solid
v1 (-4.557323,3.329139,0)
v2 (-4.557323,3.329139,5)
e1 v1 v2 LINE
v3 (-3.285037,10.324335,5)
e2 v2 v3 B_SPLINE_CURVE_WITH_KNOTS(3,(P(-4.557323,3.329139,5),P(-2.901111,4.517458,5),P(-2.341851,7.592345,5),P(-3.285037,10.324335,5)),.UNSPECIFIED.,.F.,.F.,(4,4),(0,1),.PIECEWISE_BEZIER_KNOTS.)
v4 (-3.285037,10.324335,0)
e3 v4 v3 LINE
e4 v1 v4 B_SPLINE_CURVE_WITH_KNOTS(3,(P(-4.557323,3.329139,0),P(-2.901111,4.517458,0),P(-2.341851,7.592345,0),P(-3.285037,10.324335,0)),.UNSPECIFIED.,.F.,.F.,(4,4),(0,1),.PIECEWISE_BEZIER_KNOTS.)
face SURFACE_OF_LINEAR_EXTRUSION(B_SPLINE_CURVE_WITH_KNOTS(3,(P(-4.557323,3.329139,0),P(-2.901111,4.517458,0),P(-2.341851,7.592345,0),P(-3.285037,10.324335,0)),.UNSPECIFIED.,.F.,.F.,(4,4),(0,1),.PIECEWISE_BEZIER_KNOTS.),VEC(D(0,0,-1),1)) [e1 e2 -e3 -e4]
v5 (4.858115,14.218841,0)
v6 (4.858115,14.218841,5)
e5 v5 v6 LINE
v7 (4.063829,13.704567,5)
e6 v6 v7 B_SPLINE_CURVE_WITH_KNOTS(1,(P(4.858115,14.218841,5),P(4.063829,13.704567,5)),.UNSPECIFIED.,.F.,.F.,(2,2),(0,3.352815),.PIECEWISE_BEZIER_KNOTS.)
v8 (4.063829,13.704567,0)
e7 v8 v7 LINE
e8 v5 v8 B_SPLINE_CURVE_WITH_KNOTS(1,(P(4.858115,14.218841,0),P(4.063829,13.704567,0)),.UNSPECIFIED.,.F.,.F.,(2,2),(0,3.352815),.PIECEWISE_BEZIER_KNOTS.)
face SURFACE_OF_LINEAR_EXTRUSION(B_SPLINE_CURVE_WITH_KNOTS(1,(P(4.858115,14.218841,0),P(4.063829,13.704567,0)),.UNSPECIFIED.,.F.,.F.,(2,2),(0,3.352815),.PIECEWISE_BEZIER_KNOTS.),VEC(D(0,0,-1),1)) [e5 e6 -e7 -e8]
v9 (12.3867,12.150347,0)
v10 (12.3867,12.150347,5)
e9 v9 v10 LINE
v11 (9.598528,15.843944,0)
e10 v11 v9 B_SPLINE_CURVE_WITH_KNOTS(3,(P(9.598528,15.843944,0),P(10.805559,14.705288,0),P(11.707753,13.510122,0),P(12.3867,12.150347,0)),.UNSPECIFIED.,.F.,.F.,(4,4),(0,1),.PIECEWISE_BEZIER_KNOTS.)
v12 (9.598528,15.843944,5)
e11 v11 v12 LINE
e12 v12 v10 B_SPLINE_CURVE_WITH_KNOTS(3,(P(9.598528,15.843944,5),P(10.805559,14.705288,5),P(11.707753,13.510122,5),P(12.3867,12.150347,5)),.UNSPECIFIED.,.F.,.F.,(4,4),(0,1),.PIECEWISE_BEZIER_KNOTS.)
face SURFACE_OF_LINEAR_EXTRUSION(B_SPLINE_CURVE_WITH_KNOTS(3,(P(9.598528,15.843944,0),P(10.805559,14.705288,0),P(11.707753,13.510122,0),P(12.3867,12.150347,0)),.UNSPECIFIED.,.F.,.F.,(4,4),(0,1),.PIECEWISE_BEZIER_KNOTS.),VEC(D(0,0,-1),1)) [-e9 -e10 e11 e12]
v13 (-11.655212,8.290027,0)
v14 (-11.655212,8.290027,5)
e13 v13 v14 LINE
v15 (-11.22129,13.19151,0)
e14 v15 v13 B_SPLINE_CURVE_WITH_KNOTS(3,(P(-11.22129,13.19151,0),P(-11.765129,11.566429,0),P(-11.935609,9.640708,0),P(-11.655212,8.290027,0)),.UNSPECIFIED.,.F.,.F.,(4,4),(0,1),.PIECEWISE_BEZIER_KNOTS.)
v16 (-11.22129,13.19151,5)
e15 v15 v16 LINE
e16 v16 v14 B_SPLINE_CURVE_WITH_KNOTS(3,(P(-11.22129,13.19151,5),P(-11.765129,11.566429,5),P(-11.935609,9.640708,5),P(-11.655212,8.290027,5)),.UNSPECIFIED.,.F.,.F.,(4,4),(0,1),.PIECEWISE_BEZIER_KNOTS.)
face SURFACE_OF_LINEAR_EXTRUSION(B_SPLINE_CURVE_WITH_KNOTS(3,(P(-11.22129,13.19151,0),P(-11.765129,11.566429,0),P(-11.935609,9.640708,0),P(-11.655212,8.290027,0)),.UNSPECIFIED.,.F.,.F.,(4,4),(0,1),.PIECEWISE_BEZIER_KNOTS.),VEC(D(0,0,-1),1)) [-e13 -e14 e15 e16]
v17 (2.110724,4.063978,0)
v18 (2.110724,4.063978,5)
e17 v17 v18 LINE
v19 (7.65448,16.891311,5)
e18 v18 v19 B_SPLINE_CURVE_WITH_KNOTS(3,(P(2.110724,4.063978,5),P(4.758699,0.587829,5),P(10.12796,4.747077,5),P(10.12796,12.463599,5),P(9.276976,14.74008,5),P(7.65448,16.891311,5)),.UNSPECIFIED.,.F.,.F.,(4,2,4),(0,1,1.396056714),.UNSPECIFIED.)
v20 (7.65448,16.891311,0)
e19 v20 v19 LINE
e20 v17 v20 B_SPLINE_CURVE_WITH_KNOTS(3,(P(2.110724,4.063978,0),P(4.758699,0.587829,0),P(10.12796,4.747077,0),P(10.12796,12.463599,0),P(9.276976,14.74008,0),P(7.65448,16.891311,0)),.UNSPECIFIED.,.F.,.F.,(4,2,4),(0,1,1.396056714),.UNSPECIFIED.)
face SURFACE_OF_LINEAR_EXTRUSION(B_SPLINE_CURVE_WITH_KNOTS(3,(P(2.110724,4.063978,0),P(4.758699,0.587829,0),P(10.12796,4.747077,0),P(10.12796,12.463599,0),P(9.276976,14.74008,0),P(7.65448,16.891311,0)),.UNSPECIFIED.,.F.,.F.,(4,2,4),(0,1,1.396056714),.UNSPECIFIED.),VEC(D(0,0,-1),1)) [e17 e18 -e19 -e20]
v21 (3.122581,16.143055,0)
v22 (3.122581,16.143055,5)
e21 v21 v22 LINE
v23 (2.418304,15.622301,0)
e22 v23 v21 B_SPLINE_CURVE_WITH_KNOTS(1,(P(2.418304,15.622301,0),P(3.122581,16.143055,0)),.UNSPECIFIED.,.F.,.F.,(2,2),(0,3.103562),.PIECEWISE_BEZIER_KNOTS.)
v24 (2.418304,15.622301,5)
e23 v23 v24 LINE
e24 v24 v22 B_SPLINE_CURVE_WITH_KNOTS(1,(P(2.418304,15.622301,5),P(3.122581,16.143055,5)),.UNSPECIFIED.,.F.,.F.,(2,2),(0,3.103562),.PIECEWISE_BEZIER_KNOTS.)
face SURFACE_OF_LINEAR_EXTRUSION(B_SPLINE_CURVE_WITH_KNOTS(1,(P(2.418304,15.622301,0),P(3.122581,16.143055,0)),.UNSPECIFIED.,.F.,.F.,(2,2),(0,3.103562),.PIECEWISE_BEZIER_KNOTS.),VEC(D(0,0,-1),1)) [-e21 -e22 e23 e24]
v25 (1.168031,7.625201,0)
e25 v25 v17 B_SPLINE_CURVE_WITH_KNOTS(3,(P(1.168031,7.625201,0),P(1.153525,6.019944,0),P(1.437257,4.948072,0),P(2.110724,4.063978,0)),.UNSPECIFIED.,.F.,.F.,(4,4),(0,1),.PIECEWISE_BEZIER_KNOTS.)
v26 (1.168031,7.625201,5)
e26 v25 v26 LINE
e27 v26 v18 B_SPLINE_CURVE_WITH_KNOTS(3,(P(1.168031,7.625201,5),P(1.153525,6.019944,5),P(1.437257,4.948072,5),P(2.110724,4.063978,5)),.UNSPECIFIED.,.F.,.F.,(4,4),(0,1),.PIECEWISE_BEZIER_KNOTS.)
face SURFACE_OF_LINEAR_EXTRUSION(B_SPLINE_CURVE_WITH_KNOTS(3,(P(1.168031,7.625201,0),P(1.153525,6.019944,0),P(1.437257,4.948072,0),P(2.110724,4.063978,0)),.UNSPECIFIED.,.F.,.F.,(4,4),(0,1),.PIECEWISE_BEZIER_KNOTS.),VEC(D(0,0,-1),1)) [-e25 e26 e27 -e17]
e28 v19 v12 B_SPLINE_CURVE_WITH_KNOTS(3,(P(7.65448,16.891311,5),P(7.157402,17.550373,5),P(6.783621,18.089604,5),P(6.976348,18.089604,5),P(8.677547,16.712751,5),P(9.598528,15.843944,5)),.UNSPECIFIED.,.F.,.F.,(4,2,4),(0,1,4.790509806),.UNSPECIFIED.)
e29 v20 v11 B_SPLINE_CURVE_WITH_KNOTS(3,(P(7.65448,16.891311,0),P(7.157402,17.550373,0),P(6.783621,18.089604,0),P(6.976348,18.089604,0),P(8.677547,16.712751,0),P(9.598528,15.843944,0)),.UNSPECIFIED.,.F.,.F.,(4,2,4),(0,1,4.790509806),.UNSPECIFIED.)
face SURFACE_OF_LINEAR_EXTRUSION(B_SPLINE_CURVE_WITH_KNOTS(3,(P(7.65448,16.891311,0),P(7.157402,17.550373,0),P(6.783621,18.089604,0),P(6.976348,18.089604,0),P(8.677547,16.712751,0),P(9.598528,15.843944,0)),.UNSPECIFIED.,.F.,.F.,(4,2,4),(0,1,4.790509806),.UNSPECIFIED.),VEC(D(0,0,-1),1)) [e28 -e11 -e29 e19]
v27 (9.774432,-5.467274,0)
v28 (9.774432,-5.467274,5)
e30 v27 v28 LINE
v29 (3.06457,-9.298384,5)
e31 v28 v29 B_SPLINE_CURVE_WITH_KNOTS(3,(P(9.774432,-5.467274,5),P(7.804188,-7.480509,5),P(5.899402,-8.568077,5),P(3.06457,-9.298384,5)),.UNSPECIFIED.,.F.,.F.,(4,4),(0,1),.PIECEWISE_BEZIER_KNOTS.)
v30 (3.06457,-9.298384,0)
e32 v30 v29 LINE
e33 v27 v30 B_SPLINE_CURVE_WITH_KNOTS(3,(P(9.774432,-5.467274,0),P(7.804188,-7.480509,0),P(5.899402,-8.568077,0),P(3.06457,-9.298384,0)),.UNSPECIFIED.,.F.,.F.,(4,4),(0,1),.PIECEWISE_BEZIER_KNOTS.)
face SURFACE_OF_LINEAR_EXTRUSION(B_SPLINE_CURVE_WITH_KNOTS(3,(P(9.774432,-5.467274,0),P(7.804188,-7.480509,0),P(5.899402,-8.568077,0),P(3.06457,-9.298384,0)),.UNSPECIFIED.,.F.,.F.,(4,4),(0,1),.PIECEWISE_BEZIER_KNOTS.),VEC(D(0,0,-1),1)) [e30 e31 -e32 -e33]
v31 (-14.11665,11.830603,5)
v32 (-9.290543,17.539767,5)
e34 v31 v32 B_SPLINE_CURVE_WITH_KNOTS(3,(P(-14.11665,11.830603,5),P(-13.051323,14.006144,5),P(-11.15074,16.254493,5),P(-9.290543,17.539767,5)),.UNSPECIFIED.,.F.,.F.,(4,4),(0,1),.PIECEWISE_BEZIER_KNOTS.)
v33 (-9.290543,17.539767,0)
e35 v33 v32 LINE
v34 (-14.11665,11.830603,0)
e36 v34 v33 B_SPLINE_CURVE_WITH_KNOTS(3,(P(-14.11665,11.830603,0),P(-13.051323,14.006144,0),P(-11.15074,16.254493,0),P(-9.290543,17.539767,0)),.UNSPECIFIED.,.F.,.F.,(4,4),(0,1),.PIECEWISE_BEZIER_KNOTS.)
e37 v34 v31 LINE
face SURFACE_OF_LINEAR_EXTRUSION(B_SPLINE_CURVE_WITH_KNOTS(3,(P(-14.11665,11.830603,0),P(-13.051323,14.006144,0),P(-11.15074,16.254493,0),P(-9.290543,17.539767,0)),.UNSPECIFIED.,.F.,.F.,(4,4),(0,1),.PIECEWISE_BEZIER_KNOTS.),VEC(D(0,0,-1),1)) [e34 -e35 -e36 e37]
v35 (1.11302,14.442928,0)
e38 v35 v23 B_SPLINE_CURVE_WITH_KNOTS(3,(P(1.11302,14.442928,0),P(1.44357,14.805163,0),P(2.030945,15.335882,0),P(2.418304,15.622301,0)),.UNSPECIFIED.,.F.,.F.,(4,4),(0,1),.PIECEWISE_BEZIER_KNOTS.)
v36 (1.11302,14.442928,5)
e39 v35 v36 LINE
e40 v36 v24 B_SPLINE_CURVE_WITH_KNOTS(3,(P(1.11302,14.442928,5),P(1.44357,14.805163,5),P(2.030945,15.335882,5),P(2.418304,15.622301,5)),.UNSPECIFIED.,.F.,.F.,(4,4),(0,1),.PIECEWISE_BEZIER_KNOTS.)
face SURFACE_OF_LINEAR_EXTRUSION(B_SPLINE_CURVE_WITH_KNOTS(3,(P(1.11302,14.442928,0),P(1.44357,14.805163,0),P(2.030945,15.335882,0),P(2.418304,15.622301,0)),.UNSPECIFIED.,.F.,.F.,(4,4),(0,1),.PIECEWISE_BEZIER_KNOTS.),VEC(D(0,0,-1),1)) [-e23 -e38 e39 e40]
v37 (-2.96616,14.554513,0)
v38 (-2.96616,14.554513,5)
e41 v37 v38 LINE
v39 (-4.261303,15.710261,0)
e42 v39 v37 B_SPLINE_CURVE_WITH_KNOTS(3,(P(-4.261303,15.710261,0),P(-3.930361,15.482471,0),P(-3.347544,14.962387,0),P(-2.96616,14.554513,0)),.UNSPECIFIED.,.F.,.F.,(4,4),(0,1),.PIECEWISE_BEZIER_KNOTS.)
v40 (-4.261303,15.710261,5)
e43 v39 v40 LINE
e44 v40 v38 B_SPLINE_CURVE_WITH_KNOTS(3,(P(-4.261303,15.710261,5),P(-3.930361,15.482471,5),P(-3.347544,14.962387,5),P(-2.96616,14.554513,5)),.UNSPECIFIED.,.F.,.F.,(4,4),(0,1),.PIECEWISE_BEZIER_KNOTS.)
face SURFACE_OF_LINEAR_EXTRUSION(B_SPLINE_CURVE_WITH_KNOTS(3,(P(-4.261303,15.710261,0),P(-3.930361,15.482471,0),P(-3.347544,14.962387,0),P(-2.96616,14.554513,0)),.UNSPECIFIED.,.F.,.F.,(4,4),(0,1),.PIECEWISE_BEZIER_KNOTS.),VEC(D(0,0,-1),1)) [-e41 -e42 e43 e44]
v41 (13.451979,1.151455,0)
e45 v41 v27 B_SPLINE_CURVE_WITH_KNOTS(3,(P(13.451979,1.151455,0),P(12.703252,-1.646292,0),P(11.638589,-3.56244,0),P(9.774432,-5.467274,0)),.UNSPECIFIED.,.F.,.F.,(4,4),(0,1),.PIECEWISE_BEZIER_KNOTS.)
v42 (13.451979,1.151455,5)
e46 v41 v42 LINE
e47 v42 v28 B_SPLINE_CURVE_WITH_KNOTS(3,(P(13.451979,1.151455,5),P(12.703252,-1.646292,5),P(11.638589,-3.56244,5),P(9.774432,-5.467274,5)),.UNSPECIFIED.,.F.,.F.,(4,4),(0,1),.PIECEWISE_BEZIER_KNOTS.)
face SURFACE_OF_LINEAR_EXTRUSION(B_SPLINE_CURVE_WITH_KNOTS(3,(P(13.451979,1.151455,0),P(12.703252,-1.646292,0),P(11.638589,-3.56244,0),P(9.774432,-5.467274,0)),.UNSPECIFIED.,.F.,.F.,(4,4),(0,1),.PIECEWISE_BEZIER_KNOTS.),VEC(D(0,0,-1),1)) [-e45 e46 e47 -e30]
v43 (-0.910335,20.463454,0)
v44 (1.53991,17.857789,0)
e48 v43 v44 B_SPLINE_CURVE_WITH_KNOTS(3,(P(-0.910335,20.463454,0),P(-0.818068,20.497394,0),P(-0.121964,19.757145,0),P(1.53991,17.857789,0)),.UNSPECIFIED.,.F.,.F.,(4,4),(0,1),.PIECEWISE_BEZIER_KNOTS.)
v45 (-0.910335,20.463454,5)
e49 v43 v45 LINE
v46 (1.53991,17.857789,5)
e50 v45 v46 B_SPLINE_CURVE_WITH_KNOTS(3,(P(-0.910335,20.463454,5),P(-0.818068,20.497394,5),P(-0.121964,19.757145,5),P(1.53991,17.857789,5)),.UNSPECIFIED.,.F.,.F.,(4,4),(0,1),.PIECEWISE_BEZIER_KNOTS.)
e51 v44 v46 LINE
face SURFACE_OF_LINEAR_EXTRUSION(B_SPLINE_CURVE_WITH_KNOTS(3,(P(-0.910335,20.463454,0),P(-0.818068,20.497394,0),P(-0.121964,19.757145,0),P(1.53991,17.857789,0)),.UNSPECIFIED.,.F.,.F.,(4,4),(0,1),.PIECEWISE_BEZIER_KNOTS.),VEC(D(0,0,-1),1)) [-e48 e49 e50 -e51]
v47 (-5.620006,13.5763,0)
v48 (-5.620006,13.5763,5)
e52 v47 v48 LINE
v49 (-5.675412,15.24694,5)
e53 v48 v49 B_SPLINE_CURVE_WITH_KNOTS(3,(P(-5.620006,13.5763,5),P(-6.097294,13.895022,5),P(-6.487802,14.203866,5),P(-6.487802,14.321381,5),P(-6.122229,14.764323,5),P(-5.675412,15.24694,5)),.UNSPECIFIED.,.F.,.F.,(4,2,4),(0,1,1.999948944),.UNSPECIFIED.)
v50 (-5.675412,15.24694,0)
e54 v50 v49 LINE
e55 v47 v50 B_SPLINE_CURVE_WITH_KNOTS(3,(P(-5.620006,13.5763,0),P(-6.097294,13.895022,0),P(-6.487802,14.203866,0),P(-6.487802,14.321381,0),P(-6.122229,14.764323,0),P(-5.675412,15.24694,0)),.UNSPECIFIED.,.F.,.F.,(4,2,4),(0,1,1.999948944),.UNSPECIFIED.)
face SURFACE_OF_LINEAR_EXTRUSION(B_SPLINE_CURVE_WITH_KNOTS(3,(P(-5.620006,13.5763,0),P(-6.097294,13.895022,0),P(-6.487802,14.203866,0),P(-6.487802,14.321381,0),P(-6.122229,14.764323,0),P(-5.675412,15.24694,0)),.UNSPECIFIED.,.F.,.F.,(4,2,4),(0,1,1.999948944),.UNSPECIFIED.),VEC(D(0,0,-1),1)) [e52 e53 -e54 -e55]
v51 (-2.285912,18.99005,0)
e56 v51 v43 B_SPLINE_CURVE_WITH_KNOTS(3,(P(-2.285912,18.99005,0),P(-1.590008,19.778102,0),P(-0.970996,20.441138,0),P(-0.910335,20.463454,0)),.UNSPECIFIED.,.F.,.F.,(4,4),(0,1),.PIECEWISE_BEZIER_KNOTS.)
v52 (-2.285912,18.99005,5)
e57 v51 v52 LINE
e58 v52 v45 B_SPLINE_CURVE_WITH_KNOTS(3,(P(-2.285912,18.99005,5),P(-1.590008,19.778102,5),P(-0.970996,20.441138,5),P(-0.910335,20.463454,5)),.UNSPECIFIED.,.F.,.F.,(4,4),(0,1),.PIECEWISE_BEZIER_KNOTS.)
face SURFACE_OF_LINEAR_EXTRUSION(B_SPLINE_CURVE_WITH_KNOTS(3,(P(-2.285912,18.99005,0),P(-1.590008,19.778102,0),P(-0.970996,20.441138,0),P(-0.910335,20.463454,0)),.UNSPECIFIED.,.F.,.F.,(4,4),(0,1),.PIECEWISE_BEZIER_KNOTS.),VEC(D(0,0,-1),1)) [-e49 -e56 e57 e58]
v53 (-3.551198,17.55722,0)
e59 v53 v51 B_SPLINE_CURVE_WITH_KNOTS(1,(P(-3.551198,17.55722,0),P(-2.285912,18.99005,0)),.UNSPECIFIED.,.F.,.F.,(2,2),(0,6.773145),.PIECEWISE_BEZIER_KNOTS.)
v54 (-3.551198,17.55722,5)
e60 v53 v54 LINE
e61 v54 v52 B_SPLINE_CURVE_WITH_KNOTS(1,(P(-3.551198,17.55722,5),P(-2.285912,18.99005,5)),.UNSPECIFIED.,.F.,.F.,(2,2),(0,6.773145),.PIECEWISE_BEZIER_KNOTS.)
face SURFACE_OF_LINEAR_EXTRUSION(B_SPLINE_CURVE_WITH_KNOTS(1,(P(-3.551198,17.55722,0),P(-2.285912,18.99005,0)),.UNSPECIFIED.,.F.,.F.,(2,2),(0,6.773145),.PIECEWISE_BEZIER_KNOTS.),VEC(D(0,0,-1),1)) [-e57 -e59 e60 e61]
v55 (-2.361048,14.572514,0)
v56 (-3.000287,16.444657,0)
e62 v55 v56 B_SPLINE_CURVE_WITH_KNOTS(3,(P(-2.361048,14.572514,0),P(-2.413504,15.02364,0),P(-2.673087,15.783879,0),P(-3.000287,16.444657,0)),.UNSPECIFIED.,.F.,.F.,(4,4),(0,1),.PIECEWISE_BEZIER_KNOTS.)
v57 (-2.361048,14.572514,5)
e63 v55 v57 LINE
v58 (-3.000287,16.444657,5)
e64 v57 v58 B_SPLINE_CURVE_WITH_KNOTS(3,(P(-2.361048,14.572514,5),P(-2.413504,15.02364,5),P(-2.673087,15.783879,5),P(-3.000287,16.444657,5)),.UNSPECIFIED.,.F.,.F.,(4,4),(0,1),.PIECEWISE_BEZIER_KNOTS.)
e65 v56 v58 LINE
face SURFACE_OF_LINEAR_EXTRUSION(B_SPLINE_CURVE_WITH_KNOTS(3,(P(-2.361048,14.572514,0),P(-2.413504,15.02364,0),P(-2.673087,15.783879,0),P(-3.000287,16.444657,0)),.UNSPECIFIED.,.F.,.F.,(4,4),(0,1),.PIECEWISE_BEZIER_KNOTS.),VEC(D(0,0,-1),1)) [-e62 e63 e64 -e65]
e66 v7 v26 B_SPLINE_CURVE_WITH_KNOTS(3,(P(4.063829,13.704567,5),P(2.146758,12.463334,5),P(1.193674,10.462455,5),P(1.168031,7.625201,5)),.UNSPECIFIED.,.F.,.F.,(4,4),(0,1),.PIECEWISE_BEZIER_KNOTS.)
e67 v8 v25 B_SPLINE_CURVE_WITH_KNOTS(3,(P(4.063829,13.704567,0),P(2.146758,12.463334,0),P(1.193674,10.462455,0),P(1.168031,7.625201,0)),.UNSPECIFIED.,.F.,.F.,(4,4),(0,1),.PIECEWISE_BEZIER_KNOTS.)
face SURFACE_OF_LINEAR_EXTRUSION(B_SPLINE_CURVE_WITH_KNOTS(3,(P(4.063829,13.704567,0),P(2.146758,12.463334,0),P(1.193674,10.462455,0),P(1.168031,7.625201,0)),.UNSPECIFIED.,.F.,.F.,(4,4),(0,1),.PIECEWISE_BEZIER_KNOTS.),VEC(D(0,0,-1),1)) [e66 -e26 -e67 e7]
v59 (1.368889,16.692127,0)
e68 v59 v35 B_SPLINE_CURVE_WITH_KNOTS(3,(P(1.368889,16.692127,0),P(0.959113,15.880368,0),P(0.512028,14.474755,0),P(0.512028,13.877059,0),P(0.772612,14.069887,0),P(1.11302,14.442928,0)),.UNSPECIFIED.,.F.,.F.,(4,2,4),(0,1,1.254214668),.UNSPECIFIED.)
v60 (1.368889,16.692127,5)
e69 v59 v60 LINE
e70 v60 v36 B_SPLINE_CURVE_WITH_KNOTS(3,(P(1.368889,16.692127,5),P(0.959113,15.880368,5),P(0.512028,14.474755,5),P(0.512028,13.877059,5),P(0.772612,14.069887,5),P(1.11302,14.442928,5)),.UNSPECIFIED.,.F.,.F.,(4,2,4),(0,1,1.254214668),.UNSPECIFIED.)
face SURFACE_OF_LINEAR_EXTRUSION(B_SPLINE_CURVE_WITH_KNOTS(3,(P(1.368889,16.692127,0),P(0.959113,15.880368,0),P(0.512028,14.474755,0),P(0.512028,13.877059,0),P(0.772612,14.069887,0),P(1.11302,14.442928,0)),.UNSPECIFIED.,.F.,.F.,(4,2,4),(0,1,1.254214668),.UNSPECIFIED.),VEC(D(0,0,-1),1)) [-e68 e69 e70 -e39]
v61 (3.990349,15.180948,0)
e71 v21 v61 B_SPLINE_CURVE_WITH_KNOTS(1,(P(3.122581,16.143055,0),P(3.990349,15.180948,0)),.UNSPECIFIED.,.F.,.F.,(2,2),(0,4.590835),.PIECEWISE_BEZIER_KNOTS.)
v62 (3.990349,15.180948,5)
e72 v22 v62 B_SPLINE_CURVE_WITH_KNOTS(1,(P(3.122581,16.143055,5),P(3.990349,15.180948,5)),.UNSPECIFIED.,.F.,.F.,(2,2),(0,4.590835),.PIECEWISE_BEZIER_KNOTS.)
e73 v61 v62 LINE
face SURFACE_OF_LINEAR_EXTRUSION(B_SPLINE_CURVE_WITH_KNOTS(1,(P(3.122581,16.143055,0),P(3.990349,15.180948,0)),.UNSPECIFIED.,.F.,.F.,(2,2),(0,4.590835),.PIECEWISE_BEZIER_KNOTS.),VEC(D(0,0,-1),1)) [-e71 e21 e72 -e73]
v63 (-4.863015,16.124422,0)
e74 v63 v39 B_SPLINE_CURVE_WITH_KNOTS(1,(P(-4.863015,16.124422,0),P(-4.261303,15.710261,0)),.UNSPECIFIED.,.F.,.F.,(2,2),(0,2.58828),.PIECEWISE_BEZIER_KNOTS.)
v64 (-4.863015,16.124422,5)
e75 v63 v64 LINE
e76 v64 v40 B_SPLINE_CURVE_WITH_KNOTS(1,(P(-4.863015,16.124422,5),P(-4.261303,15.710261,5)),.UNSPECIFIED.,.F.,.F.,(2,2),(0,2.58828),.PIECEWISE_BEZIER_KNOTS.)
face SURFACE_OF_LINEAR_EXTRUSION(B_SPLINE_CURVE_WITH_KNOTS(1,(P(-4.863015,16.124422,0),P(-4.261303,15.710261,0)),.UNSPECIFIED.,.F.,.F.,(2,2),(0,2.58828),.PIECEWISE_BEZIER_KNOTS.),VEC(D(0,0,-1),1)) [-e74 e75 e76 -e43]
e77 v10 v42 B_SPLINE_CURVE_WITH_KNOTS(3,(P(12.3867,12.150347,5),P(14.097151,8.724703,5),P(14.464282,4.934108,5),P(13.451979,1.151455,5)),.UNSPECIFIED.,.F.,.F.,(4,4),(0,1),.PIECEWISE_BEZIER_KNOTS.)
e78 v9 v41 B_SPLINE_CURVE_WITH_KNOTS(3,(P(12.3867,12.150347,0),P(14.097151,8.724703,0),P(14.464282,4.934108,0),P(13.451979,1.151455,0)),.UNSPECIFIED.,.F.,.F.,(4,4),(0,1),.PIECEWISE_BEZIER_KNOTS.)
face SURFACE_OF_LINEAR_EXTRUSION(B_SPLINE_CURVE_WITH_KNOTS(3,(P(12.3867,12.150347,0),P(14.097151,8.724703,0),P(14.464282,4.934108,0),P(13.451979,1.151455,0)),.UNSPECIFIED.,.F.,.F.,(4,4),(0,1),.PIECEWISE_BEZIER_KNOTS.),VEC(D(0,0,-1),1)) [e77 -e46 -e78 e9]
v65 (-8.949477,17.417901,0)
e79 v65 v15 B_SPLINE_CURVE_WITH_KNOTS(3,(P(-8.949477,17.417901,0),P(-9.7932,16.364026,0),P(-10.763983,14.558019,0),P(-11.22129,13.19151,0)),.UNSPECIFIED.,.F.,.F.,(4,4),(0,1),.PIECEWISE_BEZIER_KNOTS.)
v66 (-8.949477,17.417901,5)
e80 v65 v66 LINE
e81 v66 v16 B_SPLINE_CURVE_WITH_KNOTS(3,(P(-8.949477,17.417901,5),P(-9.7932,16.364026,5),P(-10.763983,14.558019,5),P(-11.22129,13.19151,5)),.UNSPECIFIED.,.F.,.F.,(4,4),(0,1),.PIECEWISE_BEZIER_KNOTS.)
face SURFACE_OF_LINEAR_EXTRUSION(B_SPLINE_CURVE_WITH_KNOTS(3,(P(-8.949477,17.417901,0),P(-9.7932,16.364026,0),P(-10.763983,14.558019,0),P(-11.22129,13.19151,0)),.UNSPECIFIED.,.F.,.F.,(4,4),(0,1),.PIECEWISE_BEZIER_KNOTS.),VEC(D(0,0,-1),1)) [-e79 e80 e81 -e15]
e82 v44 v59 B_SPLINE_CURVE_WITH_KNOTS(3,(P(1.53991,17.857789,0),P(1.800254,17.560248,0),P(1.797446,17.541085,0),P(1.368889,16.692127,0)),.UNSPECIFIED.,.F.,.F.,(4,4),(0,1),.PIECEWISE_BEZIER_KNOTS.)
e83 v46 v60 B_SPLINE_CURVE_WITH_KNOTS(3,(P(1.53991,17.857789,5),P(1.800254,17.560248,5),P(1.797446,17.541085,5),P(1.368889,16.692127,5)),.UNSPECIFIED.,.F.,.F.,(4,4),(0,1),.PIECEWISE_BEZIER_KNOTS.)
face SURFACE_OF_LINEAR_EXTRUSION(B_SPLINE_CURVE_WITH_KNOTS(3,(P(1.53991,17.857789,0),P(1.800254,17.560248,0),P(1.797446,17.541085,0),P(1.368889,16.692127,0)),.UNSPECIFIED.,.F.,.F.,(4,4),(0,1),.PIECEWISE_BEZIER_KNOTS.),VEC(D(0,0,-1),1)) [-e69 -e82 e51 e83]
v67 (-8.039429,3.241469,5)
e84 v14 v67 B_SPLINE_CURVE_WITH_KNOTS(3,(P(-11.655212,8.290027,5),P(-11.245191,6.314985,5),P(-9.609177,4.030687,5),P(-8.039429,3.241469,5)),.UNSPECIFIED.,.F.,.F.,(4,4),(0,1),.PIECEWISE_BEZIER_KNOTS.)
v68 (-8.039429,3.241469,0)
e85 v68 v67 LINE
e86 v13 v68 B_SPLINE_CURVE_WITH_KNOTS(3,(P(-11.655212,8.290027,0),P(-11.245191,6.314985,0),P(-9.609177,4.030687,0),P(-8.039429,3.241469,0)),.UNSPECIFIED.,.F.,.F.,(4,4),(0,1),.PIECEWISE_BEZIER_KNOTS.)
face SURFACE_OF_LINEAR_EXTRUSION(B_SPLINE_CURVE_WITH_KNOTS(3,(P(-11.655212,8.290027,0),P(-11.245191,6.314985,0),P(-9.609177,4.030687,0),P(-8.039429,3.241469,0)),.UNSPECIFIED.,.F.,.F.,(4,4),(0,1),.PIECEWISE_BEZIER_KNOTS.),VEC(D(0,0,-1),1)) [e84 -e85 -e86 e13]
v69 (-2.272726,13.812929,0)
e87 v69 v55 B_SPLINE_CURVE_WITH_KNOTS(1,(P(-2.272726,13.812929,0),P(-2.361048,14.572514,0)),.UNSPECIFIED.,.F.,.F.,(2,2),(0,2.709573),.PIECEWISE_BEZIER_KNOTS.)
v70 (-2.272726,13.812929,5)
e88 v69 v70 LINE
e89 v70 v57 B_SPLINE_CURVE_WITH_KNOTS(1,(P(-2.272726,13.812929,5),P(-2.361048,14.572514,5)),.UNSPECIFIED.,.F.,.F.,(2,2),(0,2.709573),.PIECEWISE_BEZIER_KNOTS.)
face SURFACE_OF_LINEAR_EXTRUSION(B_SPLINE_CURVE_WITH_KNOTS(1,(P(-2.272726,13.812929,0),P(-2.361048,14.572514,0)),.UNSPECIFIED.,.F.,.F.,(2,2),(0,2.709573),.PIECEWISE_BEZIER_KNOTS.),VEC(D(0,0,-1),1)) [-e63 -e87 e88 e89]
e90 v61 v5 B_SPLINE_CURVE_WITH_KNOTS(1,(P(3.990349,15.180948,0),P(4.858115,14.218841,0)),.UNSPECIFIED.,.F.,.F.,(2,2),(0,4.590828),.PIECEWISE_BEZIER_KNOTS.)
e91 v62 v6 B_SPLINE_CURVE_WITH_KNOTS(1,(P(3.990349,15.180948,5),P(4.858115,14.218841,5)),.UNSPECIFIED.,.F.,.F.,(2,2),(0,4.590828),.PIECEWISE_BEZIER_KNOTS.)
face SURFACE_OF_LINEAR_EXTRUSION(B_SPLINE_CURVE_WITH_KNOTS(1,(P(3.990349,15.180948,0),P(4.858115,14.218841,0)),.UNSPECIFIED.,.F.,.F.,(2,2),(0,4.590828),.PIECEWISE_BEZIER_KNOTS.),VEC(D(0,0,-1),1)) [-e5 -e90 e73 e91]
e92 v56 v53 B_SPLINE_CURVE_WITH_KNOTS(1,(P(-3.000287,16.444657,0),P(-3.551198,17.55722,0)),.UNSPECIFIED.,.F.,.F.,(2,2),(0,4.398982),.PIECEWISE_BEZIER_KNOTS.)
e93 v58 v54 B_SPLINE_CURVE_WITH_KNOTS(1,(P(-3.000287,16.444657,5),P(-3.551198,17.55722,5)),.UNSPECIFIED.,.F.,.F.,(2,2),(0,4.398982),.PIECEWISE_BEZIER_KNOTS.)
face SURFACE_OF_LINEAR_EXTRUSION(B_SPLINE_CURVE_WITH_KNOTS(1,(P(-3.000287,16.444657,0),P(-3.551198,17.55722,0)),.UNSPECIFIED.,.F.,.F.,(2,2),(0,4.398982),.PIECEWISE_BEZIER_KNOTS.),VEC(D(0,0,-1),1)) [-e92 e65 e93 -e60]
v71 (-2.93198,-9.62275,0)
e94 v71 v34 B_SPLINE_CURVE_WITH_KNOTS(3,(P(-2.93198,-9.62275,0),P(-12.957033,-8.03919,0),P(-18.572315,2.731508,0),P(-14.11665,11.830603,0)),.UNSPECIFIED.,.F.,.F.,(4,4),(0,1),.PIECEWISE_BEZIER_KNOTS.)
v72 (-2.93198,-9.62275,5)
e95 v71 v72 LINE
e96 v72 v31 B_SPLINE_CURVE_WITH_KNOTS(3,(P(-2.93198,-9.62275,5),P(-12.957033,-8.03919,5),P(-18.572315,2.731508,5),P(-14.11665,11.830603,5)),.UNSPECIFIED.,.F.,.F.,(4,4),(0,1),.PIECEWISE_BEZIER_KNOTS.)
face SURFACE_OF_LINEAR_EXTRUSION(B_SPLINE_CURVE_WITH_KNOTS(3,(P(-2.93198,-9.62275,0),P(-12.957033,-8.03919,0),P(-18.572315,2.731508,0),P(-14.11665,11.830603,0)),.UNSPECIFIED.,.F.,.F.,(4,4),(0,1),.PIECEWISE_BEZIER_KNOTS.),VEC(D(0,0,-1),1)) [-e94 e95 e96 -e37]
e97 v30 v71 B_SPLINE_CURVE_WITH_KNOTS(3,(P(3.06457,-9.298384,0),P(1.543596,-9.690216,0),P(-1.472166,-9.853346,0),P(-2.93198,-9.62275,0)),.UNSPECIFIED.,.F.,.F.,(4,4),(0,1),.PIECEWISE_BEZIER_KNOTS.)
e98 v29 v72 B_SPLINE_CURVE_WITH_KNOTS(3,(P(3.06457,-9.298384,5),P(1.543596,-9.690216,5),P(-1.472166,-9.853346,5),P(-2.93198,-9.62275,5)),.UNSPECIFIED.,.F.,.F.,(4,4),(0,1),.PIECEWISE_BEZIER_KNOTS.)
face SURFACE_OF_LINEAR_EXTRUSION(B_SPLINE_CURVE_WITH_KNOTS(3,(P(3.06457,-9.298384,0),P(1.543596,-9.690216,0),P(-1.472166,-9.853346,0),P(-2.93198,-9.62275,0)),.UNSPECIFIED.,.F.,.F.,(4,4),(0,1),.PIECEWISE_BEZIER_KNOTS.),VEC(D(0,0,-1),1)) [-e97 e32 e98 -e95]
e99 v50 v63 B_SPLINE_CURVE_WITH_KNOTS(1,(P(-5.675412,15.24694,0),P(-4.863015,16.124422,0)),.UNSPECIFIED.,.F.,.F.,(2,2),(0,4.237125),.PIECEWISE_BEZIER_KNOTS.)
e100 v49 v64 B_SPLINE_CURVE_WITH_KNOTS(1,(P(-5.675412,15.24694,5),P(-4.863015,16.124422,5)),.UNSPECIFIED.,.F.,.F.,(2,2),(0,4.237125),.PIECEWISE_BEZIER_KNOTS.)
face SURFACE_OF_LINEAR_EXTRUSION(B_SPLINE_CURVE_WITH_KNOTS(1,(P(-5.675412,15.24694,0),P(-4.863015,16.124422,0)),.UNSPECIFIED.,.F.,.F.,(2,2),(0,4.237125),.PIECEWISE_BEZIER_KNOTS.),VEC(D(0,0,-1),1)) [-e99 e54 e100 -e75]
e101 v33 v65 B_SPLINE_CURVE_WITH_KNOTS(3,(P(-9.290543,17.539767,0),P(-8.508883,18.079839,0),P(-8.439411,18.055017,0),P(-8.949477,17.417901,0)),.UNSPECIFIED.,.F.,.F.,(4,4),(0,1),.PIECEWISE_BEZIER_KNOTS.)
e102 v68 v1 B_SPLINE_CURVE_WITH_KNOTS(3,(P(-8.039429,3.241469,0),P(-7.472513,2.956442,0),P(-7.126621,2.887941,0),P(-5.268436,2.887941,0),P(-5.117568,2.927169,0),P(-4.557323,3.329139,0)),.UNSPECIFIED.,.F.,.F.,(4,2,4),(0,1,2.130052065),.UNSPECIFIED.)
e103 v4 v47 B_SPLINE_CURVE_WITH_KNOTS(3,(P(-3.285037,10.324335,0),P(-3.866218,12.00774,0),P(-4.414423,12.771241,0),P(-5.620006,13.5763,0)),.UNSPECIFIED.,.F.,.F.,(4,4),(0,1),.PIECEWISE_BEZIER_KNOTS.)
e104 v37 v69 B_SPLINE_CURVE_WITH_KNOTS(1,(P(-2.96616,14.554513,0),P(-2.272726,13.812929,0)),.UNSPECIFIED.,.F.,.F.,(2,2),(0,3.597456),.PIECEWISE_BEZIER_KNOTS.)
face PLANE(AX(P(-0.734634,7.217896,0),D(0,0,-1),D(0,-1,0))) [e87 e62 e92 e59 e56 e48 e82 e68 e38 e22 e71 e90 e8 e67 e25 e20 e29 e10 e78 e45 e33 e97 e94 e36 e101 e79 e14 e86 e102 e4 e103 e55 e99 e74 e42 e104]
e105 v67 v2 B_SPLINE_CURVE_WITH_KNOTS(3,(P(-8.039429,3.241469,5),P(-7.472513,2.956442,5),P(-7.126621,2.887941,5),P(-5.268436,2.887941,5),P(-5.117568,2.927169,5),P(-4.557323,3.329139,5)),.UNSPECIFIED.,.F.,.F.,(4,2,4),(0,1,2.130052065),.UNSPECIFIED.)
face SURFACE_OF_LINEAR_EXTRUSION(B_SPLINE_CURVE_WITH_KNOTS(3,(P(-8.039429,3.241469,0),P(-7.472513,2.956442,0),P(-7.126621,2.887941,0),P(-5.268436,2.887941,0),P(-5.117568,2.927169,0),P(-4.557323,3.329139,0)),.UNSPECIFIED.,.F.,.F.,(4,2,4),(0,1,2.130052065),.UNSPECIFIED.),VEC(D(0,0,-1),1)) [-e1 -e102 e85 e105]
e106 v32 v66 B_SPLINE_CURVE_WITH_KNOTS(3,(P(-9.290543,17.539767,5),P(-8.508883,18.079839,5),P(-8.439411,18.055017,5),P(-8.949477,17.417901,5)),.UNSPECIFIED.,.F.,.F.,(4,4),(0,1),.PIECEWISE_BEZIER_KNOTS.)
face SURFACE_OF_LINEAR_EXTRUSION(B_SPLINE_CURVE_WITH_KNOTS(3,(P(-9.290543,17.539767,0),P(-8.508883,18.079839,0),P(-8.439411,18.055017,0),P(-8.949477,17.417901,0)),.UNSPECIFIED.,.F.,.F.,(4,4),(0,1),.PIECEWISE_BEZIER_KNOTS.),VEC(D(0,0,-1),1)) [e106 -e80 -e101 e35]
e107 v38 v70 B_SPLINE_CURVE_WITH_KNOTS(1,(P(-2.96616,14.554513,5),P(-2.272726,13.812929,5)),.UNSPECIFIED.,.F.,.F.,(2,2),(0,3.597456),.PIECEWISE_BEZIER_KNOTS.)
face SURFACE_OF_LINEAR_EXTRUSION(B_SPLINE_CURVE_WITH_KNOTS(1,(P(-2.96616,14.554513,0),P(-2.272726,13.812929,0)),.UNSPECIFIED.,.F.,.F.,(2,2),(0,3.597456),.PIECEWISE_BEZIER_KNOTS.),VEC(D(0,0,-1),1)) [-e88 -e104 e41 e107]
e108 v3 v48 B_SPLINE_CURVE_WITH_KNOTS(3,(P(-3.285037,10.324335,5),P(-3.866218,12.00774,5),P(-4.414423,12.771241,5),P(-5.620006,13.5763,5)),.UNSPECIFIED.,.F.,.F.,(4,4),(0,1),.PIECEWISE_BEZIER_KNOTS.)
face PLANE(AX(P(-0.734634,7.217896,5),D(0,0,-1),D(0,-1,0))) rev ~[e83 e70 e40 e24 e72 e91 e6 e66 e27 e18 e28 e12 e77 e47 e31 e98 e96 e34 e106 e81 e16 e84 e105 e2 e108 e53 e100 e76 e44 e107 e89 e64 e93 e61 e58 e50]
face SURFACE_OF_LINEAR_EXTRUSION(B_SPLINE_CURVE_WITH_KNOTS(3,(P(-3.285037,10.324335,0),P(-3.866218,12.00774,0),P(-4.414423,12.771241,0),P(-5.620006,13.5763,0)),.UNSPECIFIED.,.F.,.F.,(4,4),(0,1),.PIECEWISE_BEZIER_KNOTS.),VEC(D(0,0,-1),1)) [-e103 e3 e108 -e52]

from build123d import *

# Parameters (mm, degrees)
EXTRUDE_DEPTH = 5


with BuildPart() as part:
    # path3417 → Extrude (new body)
    with BuildSketch(Plane(origin=(-1.246917, 5.322024, 0), x_dir=(0, -1, 0), z_dir=(0, 0, -1))):
        with BuildLine():
            add(Edge.make_bspline(
                [(14.944774, 1.685063), (13.361214, 11.710116), (2.590516, 17.325398), (-6.508579, 12.869733)],
                knots=[0, 0, 0, 0, 1, 1, 1, 1], degree=3))
            add(Edge.make_bspline(
                [(-6.508579, 12.869733), (-8.68412, 11.804406), (-10.932469, 9.903823), (-12.217743, 8.043626)],
                knots=[0, 0, 0, 0, 1, 1, 1, 1], degree=3))
            add(Edge.make_bspline(
                [(-12.217743, 8.043626), (-12.757815, 7.261966), (-12.732993, 7.192494), (-12.095877, 7.70256)],
                knots=[0, 0, 0, 0, 1, 1, 1, 1], degree=3))
            add(Edge.make_bspline(
                [(-12.095877, 7.70256), (-11.042002, 8.546283), (-9.235995, 9.517066), (-7.869486, 9.974373)],
                knots=[0, 0, 0, 0, 1, 1, 1, 1], degree=3))
            add(Edge.make_bspline(
                [(-7.869486, 9.974373), (-6.244405, 10.518212), (-4.318684, 10.688692), (-2.968003, 10.408295)],
                knots=[0, 0, 0, 0, 1, 1, 1, 1], degree=3))
            add(Edge.make_bspline(
                [(-2.968003, 10.408295), (-0.992961, 9.998274), (1.291337, 8.36226), (2.080555, 6.792512)],
                knots=[0, 0, 0, 0, 1, 1, 1, 1], degree=3))
            add(Edge.make_bspline(
                [(2.080555, 6.792512), (2.365582, 6.225596), (2.434083, 5.879704), (2.434083, 5.007338)],
                knots=[0, 0, 0, 0, 1, 1, 1, 1], degree=3))
            add(Edge.make_bspline(
                [(2.434083, 5.007338), (2.434083, 4.021519), (2.394855, 3.870651), (1.992885, 3.310406)],
                knots=[0, 0, 0, 0, 1, 1, 1, 1], degree=3))
            add(Edge.make_bspline(
                [(1.992885, 3.310406), (0.804566, 1.654194), (-2.270321, 1.094934), (-5.002311, 2.03812)],
                knots=[0, 0, 0, 0, 1, 1, 1, 1], degree=3))
            add(Edge.make_bspline(
                [(-5.002311, 2.03812), (-6.685716, 2.619301), (-7.449217, 3.167506), (-8.254276, 4.373089)],
                knots=[0, 0, 0, 0, 1, 1, 1, 1], degree=3))
            add(Edge.make_bspline(
                [(-8.254276, 4.373089), (-8.572998, 4.850377), (-8.881842, 5.240885), (-8.940601, 5.240885)],
                knots=[0, 0, 0, 0, 1, 1, 1, 1], degree=3))
            add(Edge.make_bspline(
                [(-8.940601, 5.240885), (-8.999357, 5.240885), (-9.442299, 4.875312), (-9.924916, 4.428495)],
                knots=[0, 0, 0, 0, 1, 1, 1, 1], degree=3))
            add(Edge.make_bspline(
                [(-9.924916, 4.428495), (-10.802398, 3.616098)],
                knots=[0, 0, 4.237125, 4.237125], degree=1))
            add(Edge.make_bspline(
                [(-10.802398, 3.616098), (-10.388237, 3.014386)],
                knots=[0, 0, 2.58828, 2.58828], degree=1))
            add(Edge.make_bspline(
                [(-10.388237, 3.014386), (-10.160447, 2.683444), (-9.640363, 2.100627), (-9.232489, 1.719243)],
                knots=[0, 0, 0, 0, 1, 1, 1, 1], degree=3))
            add(Edge.make_bspline(
                [(-9.232489, 1.719243), (-8.490905, 1.025809)],
                knots=[0, 0, 3.597456, 3.597456], degree=1))
            add(Edge.make_bspline(
                [(-8.490905, 1.025809), (-9.25049, 1.114131)],
                knots=[0, 0, 2.709573, 2.709573], degree=1))
            add(Edge.make_bspline(
                [(-9.25049, 1.114131), (-9.701616, 1.166587), (-10.461855, 1.42617), (-11.122633, 1.75337)],
                knots=[0, 0, 0, 0, 1, 1, 1, 1], degree=3))
            add(Edge.make_bspline(
                [(-11.122633, 1.75337), (-12.235196, 2.304281)],
                knots=[0, 0, 4.398982, 4.398982], degree=1))
            add(Edge.make_bspline(
                [(-12.235196, 2.304281), (-13.668026, 1.038995)],
                knots=[0, 0, 6.773145, 6.773145], degree=1))
            add(Edge.make_bspline(
                [(-13.668026, 1.038995), (-14.456078, 0.343091), (-15.119114, -0.275921), (-15.14143, -0.336582)],
                knots=[0, 0, 0, 0, 1, 1, 1, 1], degree=3))
            add(Edge.make_bspline(
                [(-15.14143, -0.336582), (-15.17537, -0.428849), (-14.435121, -1.124953), (-12.535765, -2.786827)],
                knots=[0, 0, 0, 0, 1, 1, 1, 1], degree=3))
            add(Edge.make_bspline(
                [(-12.535765, -2.786827), (-12.238224, -3.047171), (-12.219061, -3.044363), (-11.370103, -2.615806)],
                knots=[0, 0, 0, 0, 1, 1, 1, 1], degree=3))
            add(Edge.make_bspline(
                [(-11.370103, -2.615806), (-10.558344, -2.20603), (-9.152731, -1.758945), (-8.676181, -1.758945)],
                knots=[0, 0, 0, 0, 1, 1, 1, 1], degree=3))
            add(Edge.make_bspline(
                [(-8.676181, -1.758945), (-8.555035, -1.758945), (-8.747863, -2.019529), (-9.120904, -2.359937)],
                knots=[0, 0, 0, 0, 1, 1, 1, 1], degree=3))
            add(Edge.make_bspline(
                [(-9.120904, -2.359937), (-9.483139, -2.690487), (-10.013858, -3.277862), (-10.300277, -3.665221)],
                knots=[0, 0, 0, 0, 1, 1, 1, 1], degree=3))
            add(Edge.make_bspline(
                [(-10.300277, -3.665221), (-10.821031, -4.369498)],
                knots=[0, 0, 3.103562, 3.103562], degree=1))
            add(Edge.make_bspline(
                [(-10.821031, -4.369498), (-9.858924, -5.237266)],
                knots=[0, 0, 4.590835, 4.590835], degree=1))
            add(Edge.make_bspline(
                [(-9.858924, -5.237266), (-8.896817, -6.105032)],
                knots=[0, 0, 4.590828, 4.590828], degree=1))
            add(Edge.make_bspline(
                [(-8.896817, -6.105032), (-8.382543, -5.310746)],
                knots=[0, 0, 3.352815, 3.352815], degree=1))
            add(Edge.make_bspline(
                [(-8.382543, -5.310746), (-7.14131, -3.393675), (-5.140431, -2.440591), (-2.303177, -2.414948)],
                knots=[0, 0, 0, 0, 1, 1, 1, 1], degree=3))
            add(Edge.make_bspline(
                [(-2.303177, -2.414948), (-0.69792, -2.400442), (0.373952, -2.684174), (1.258046, -3.357641)],
                knots=[0, 0, 0, 0, 1, 1, 1, 1], degree=3))
            add(Edge.make_bspline(
                [(1.258046, -3.357641), (4.734195, -6.005616), (0.574947, -11.374877), (-4.952423, -11.374877)],
                knots=[0, 0, 0, 0, 1, 1, 1, 1], degree=3))
            add(Edge.make_bspline(
                [(-4.952423, -11.374877), (-7.141575, -11.374877), (-9.418056, -10.523893), (-11.569287, -8.901397)],
                knots=[0, 0, 0, 0, 1, 1, 1, 1], degree=3))
            add(Edge.make_bspline(
                [(-11.569287, -8.901397), (-12.228349, -8.404319), (-12.76758, -8.030538), (-12.76758, -8.070769)],
                knots=[0, 0, 0, 0, 1, 1, 1, 1], degree=3))
            add(Edge.make_bspline(
                [(-12.76758, -8.070769), (-12.76758, -8.223265), (-11.390727, -9.924464), (-10.52192, -10.845445)],
                knots=[0, 0, 0, 0, 1, 1, 1, 1], degree=3))
            add(Edge.make_bspline(
                [(-10.52192, -10.845445), (-9.383264, -12.052476), (-8.188098, -12.95467), (-6.828323, -13.633617)],
                knots=[0, 0, 0, 0, 1, 1, 1, 1], degree=3))
            add(Edge.make_bspline(
                [(-6.828323, -13.633617), (-3.402679, -15.344068), (0.387916, -15.711199), (4.170569, -14.698896)],
                knots=[0, 0, 0, 0, 1, 1, 1, 1], degree=3))
            add(Edge.make_bspline(
                [(4.170569, -14.698896), (6.968316, -13.950169), (8.884464, -12.885506), (10.789298, -11.021349)],
                knots=[0, 0, 0, 0, 1, 1, 1, 1], degree=3))
            add(Edge.make_bspline(
                [(10.789298, -11.021349), (12.802533, -9.051105), (13.890101, -7.146319), (14.620408, -4.311487)],
                knots=[0, 0, 0, 0, 1, 1, 1, 1], degree=3))
            add(Edge.make_bspline(
                [(14.620408, -4.311487), (15.01224, -2.790513), (15.17537, 0.225249), (14.944774, 1.685063)],
                knots=[0, 0, 0, 0, 1, 1, 1, 1], degree=3))
        make_face()
    extrude(amount=-EXTRUDE_DEPTH)


solid = part.part
